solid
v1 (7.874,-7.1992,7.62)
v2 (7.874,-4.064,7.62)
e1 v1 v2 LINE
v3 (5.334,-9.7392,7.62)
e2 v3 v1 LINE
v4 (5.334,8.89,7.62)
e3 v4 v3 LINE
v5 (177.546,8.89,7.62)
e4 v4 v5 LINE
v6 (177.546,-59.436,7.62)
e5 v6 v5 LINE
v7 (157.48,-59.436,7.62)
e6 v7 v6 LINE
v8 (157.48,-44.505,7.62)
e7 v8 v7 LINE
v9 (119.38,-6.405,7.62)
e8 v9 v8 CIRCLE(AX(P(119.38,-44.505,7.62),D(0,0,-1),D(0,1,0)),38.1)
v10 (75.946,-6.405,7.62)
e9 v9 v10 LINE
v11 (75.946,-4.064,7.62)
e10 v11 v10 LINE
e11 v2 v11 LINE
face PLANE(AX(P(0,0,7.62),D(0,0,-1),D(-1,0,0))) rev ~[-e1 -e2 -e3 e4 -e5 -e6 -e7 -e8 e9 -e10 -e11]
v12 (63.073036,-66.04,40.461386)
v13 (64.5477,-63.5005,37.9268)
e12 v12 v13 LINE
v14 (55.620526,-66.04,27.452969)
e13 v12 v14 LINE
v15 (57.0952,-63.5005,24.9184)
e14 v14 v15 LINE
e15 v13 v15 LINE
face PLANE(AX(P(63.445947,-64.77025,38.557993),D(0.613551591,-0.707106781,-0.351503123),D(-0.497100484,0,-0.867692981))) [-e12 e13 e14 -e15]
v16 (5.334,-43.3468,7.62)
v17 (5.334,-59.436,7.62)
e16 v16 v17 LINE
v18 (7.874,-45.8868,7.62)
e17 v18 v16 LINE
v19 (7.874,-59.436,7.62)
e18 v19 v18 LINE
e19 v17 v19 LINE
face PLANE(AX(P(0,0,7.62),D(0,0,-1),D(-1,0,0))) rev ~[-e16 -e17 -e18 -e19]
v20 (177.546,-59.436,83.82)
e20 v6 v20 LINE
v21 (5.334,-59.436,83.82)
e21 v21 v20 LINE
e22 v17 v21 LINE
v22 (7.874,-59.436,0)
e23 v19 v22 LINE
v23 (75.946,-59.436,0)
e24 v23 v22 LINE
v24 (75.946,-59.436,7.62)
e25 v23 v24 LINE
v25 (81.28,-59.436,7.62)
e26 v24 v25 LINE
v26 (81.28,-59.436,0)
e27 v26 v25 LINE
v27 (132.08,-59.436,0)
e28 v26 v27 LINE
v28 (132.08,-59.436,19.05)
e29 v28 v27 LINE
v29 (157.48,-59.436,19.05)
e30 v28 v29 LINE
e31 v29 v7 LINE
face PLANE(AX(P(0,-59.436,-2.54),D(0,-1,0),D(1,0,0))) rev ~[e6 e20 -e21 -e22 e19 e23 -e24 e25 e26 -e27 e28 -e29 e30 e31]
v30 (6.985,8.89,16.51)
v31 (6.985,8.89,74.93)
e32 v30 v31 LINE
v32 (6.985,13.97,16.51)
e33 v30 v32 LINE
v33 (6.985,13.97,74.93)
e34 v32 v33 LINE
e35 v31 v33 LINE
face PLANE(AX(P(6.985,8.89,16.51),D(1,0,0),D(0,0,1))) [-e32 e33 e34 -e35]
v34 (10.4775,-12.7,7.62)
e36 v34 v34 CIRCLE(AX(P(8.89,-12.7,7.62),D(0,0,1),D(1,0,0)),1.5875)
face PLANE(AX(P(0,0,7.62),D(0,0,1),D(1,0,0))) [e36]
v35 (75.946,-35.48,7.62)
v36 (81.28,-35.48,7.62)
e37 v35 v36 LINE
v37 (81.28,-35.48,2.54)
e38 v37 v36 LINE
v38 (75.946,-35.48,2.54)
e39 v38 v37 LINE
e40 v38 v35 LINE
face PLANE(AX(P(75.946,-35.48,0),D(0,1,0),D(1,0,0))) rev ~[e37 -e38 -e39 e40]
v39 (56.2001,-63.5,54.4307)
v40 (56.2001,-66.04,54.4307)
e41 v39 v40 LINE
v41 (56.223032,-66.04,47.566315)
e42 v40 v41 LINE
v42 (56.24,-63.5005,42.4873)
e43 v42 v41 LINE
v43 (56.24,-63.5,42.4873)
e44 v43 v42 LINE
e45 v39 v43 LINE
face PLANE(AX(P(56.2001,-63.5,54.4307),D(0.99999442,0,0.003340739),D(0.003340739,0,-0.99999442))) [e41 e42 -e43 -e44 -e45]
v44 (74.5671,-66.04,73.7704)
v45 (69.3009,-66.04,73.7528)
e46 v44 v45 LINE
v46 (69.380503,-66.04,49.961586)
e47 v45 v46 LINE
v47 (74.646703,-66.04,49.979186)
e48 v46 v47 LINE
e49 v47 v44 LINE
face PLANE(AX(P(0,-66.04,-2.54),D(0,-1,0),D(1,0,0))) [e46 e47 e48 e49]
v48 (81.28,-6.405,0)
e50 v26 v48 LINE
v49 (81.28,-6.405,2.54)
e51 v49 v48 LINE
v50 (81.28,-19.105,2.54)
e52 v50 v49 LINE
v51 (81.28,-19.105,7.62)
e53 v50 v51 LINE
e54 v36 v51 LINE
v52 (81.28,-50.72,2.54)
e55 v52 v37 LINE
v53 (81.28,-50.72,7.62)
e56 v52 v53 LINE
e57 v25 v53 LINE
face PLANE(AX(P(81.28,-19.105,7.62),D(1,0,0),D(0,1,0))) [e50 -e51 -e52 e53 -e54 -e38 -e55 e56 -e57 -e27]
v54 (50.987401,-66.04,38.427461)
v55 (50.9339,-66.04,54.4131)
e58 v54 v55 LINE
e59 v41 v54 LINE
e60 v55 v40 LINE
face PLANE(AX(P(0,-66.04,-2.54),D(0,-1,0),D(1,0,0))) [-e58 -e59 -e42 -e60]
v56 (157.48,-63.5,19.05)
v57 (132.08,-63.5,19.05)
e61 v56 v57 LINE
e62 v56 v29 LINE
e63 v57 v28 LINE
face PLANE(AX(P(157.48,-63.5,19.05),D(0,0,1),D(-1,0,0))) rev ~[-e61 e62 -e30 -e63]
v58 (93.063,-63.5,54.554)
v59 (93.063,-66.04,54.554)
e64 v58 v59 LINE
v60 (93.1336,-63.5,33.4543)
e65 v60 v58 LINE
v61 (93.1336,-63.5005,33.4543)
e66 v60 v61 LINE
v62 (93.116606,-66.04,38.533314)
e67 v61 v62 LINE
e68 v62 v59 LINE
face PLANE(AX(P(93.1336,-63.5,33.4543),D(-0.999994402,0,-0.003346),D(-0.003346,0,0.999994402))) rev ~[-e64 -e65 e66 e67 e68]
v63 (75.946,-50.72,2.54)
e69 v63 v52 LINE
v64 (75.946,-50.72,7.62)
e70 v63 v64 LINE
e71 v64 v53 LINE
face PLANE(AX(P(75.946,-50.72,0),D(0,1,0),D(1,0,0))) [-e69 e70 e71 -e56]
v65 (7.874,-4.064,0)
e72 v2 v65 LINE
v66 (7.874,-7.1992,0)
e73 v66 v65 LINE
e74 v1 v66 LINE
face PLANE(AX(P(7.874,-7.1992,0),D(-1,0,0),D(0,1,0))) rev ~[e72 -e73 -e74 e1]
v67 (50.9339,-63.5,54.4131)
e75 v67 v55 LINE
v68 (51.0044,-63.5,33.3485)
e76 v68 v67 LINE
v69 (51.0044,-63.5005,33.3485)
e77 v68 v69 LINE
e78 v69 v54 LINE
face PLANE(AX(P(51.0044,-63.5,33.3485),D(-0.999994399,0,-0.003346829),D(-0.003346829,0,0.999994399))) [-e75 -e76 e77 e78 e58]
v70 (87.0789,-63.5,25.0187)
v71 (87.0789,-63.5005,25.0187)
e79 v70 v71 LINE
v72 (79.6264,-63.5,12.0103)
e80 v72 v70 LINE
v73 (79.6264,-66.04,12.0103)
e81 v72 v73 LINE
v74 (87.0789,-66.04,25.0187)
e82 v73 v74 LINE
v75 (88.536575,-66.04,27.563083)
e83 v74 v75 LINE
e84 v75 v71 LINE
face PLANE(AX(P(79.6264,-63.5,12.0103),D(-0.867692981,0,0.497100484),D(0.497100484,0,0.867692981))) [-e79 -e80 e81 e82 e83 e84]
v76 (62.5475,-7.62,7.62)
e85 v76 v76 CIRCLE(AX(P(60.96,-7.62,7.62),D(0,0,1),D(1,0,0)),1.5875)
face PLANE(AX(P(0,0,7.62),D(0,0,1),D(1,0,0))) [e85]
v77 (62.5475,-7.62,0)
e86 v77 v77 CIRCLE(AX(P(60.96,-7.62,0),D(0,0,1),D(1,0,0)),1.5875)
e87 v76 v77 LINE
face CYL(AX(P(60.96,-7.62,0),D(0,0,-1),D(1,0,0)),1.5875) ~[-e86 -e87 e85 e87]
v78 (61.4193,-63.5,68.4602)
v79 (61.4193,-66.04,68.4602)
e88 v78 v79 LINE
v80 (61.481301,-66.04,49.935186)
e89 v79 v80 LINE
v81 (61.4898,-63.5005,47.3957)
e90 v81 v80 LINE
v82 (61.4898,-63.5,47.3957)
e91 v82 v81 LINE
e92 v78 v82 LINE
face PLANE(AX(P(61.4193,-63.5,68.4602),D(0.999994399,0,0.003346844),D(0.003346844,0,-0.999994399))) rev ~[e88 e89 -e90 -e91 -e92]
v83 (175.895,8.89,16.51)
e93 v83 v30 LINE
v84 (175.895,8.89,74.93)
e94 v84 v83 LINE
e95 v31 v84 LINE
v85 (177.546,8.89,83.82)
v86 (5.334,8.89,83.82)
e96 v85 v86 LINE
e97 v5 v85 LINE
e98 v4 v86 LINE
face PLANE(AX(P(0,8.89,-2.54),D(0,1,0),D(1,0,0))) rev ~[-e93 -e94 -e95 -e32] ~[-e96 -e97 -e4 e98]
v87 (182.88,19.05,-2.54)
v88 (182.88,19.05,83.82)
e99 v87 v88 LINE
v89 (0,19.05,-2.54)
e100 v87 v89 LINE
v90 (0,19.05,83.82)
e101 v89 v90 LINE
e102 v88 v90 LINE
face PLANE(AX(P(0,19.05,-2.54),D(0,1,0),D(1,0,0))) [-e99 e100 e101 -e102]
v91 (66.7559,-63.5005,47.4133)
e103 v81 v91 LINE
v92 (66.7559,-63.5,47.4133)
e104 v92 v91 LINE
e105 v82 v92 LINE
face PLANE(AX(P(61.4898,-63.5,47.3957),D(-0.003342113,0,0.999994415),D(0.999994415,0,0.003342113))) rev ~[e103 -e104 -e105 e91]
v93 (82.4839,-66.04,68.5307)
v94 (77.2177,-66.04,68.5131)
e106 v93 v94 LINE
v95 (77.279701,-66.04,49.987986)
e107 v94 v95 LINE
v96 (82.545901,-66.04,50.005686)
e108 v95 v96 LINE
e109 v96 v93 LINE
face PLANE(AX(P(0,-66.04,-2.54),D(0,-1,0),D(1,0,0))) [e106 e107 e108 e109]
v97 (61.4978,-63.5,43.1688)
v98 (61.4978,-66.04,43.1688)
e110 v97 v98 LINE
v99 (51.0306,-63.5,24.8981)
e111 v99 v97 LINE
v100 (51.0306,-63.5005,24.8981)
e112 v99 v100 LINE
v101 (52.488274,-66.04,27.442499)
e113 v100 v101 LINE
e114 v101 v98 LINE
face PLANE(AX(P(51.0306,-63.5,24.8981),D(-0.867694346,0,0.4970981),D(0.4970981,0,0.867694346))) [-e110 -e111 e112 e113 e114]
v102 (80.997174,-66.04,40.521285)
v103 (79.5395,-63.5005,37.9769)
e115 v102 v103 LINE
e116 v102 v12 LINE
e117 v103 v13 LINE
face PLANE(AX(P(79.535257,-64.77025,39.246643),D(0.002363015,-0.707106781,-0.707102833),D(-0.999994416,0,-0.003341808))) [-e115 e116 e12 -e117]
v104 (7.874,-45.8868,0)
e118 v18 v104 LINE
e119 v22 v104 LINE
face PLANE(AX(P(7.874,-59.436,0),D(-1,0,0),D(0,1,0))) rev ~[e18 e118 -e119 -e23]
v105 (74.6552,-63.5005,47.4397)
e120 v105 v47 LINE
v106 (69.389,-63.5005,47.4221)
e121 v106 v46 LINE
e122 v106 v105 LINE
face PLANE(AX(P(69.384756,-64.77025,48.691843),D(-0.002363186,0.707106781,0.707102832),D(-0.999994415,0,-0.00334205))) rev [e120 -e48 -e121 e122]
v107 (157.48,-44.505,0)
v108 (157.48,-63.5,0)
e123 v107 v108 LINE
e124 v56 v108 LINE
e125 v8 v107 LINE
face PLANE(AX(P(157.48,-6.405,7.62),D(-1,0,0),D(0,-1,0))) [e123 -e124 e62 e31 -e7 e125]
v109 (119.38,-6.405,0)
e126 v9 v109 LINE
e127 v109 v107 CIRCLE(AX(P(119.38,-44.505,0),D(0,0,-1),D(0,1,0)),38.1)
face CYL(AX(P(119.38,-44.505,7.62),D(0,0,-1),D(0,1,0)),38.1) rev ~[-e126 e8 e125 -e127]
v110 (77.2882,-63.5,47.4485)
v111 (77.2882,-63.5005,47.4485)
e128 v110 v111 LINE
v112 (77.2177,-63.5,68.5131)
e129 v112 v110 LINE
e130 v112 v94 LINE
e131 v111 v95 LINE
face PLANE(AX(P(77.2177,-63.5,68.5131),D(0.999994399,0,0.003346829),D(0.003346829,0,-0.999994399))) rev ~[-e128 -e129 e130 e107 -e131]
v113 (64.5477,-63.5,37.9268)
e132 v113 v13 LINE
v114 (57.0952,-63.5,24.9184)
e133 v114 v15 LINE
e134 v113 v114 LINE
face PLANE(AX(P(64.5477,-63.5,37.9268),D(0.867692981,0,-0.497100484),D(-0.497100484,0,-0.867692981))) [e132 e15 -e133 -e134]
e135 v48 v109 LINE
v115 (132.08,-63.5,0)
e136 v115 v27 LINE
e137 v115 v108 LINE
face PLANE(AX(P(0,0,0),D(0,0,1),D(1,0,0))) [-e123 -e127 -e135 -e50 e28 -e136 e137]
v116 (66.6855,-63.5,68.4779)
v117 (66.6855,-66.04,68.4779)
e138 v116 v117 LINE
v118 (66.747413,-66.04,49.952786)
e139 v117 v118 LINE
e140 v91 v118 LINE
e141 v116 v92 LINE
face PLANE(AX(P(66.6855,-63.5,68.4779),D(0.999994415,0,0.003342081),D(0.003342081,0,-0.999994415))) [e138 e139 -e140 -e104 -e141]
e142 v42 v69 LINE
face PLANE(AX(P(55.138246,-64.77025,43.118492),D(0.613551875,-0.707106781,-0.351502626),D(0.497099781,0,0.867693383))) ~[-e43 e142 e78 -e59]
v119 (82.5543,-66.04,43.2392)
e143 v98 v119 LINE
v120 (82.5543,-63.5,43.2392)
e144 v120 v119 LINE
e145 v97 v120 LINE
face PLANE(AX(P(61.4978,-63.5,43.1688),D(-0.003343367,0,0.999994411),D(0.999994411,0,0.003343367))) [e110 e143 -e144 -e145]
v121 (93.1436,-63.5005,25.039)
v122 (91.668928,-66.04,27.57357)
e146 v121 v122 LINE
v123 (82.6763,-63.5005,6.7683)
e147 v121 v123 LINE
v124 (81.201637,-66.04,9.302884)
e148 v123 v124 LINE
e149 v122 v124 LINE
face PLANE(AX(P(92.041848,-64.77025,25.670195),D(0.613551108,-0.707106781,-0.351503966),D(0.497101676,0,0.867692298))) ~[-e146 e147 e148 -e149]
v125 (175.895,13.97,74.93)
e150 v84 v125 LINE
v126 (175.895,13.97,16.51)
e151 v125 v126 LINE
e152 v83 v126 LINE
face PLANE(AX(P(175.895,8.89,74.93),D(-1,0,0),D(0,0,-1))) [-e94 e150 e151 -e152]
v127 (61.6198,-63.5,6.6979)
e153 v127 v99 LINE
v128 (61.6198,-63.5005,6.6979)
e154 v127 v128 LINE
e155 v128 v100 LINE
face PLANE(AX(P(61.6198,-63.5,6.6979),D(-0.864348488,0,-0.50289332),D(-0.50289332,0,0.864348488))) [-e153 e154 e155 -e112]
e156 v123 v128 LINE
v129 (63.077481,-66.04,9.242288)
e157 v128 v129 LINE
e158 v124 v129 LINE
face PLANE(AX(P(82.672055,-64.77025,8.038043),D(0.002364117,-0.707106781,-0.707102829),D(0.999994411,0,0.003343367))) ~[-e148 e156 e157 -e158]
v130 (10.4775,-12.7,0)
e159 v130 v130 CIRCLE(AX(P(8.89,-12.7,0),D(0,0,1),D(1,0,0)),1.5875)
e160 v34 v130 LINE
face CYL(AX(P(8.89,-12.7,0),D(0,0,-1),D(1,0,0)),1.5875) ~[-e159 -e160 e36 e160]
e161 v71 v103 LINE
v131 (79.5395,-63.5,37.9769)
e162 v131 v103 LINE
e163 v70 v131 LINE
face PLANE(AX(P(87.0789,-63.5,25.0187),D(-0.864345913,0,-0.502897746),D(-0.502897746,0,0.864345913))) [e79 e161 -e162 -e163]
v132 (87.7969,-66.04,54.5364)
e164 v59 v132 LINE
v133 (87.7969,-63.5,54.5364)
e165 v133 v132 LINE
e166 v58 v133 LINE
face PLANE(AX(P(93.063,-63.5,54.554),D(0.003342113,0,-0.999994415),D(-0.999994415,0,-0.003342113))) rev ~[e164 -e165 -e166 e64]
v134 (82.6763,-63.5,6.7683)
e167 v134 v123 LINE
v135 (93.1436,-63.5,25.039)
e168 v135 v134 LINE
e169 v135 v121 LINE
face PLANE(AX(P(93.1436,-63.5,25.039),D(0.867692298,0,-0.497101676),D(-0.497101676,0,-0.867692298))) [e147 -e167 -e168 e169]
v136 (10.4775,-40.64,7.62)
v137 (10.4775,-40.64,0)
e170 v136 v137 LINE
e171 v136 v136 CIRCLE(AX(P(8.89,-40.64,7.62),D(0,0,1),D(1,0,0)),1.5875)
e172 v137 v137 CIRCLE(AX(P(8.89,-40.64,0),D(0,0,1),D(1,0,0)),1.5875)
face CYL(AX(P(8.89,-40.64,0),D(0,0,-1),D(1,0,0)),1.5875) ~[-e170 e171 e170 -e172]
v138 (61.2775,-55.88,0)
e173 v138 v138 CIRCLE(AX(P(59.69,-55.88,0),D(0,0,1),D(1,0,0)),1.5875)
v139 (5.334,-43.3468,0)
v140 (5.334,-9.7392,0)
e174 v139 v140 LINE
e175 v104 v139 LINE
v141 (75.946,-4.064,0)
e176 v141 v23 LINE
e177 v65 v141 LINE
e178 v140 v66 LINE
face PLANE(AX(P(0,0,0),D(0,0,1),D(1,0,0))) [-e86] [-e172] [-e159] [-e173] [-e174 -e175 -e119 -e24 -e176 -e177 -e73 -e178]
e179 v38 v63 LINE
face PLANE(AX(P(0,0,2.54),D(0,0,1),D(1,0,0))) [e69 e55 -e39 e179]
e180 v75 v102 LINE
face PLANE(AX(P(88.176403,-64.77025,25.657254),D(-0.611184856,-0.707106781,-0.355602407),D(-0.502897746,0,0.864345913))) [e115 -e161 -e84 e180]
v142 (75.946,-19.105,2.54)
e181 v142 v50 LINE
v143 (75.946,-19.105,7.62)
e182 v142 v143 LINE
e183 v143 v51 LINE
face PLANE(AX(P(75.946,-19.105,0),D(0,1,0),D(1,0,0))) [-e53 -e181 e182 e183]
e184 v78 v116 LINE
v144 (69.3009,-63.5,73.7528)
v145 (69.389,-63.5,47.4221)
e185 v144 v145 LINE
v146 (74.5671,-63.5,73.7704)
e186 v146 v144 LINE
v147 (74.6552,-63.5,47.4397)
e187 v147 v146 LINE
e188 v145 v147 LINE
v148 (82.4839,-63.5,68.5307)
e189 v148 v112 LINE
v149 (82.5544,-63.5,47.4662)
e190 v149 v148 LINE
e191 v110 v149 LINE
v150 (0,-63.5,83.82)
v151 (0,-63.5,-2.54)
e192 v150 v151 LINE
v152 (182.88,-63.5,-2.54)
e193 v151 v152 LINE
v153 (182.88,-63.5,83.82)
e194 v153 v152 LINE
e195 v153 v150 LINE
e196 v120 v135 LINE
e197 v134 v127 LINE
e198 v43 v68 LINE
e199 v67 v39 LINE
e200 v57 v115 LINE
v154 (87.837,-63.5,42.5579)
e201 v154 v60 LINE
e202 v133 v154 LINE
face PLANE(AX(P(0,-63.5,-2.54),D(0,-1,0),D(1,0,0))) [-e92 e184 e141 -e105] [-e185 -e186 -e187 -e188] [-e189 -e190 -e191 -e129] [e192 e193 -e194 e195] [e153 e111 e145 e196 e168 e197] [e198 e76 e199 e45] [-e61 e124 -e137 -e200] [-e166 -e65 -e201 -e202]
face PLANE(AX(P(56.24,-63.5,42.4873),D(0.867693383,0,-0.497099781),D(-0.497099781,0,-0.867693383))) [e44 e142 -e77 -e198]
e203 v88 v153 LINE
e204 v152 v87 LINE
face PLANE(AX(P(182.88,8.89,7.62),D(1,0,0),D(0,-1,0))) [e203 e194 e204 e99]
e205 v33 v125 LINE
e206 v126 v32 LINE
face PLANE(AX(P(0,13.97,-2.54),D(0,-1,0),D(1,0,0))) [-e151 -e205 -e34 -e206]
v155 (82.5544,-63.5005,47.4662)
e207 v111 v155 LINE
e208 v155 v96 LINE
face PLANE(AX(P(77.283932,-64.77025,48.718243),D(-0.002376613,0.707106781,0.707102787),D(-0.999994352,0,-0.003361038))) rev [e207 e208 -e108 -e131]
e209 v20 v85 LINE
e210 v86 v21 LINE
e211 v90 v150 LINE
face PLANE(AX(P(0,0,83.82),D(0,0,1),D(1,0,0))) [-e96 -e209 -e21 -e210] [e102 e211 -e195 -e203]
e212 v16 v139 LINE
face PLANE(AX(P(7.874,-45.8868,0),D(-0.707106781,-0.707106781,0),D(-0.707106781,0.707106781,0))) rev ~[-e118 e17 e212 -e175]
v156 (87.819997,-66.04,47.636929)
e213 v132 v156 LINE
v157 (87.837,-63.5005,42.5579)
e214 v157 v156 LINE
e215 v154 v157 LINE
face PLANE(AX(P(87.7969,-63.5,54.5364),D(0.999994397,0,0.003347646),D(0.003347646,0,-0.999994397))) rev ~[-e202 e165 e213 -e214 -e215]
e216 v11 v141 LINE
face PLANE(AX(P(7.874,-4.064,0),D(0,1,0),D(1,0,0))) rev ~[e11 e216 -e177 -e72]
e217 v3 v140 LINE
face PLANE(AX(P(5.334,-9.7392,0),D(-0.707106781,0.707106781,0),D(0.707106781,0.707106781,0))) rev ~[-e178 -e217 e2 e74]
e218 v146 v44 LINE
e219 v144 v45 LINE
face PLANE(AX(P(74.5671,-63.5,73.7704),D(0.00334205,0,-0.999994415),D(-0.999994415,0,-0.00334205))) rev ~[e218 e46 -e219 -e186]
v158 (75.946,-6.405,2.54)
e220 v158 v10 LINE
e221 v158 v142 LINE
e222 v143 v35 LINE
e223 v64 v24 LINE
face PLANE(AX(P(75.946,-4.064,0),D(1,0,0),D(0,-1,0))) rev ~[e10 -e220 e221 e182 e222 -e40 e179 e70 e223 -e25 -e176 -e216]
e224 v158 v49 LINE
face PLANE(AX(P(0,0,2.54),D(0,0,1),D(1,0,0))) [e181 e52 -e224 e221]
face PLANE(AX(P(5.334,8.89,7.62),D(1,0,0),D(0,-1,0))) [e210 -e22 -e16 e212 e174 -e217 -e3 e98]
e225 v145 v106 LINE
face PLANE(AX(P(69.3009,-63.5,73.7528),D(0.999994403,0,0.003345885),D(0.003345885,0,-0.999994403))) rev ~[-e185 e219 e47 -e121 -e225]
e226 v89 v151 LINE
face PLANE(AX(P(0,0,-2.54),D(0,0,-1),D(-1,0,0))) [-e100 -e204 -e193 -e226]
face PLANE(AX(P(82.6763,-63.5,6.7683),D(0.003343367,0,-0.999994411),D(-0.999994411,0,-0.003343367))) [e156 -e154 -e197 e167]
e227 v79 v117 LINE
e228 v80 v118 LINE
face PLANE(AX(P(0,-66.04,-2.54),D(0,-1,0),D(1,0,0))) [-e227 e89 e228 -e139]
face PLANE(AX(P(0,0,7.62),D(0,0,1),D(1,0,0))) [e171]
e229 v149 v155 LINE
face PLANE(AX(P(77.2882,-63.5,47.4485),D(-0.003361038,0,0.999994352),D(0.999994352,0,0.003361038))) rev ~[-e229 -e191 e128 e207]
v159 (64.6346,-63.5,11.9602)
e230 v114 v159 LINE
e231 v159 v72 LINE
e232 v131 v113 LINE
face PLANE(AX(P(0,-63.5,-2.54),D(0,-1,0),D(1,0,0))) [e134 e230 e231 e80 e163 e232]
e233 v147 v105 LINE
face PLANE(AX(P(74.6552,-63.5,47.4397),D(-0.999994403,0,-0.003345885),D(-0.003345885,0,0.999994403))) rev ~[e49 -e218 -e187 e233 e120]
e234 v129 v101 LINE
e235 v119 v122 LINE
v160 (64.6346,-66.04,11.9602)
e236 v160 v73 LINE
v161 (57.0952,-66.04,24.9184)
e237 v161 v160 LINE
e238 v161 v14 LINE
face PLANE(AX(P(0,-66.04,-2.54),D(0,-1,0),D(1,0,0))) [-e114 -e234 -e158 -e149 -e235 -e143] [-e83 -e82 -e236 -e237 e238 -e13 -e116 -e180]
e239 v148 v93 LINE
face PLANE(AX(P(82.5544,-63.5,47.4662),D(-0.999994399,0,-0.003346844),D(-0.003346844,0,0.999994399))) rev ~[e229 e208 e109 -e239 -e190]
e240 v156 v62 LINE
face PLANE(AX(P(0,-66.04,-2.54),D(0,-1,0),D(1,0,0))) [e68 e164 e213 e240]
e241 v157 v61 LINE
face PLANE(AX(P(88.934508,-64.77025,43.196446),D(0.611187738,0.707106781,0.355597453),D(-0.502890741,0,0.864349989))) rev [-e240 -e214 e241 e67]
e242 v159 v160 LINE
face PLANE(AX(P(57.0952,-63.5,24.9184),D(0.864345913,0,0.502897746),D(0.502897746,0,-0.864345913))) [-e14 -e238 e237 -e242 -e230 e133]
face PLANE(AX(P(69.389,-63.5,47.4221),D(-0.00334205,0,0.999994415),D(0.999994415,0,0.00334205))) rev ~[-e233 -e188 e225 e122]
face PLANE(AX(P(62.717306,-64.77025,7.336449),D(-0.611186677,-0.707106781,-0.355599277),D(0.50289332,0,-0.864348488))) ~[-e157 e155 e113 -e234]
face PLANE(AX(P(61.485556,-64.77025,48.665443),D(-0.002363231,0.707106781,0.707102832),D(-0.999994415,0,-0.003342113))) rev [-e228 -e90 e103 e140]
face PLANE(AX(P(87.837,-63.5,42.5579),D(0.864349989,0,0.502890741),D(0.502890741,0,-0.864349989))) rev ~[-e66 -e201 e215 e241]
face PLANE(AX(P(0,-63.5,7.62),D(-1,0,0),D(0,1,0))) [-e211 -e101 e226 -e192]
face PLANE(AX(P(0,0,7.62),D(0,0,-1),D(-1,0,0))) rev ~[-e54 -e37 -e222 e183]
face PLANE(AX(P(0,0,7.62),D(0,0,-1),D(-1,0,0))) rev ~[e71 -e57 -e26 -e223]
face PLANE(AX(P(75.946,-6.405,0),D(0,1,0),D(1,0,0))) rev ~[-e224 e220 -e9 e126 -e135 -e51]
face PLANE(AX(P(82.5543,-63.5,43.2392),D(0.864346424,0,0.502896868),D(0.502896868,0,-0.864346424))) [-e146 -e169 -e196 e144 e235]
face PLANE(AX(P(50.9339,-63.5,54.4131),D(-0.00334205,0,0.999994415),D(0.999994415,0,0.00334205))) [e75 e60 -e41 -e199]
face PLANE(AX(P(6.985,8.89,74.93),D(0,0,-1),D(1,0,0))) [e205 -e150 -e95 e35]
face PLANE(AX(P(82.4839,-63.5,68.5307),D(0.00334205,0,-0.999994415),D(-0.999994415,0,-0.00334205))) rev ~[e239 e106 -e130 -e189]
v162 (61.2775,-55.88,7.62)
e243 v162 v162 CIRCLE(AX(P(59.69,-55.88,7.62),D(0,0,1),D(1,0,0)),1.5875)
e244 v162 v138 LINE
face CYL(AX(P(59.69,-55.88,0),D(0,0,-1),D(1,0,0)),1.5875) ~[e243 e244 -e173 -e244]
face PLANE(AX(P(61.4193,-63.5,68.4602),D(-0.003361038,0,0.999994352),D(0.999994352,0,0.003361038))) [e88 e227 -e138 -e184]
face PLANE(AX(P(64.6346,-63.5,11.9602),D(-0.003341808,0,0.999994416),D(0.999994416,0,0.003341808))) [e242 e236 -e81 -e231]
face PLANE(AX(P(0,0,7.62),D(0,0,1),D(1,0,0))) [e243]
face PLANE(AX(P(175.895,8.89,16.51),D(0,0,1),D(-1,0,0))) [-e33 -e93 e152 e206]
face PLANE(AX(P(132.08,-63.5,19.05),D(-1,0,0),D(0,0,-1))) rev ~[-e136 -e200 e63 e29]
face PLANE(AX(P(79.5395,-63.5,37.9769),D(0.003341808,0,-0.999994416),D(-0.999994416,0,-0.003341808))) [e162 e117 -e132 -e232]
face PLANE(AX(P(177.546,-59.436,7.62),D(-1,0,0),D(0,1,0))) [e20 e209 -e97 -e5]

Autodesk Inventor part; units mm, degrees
ref_plane "YZ Plane" through (0, 0, 0) normal (1, 0, 0) x (0, 1, 0)
ref_plane "XZ Plane" through (0, 0, 0) normal (0, 1, 0) x (-1, 0, 0)
ref_plane "XY Plane" through (0, 0, 0) normal (0, 0, 1) x (1, 0, 0)
sketch "Sketch1" plane through (0, 0, 0) normal (0, 0, 1) x (1, 0, 0)
  line L0 (6.35, -116.84) -> (8.89, -119.38)
  line L1 (8.89, -119.38) -> (8.89, -121.92)
  line L2 (6.35, -84.074) -> (6.35, -116.84)
  line L3 (8.89, -81.534) -> (6.35, -84.074)
  line L4 (8.89, -68.58) -> (8.89, -81.534)
  line L5 (74.93, -68.58) -> (8.89, -68.58)
  line L6 (74.93, -121.92) -> (74.93, -68.58)
  line L7 (8.89, -121.92) -> (74.93, -121.92)
  line L8 (5.334, -117.2608) -> (7.874, -119.8008)
  line L9 (7.874, -119.8008) -> (7.874, -122.936)
  line L10 (7.874, -122.936) -> (75.946, -122.936)
  line L11 (75.946, -122.936) -> (75.946, -67.564)
  line L12 (75.946, -67.564) -> (7.874, -67.564)
  line L13 (7.874, -67.564) -> (7.874, -81.1132)
  line L14 (7.874, -81.1132) -> (5.334, -83.6532)
  line L15 (5.334, -83.6532) -> (5.334, -117.2608)
  line L16 (0, -63.5) -> (81.28, -63.5)
  line L17 (81.28, -63.5) -> (81.28, 0)
  line L18 (81.28, 0) -> (0, 0)
  line L19 (0, 0) -> (0, -63.5)
  line L20 (5.334, -111.1172) -> (0, -111.1172) construction
  line L21 (75.946, -101.4463) -> (81.28, -101.4463) construction
  line L22 (34.5139, -122.936) -> (34.5139, -63.5) construction
  line L23 (37.8868, -59.436) -> (37.8868, 0) construction
  line L24 (75.946, -76.28) -> (81.28, -76.28)
  line L25 (75.946, -120.595) -> (81.28, -120.595)
  line L26 (75.946, -107.895) -> (81.28, -107.895)
  line L27 (75.946, -91.52) -> (79.6093, -91.52)
  line L28 (81.28, -89.46) -> (81.28, -78.34)
  line L29 (76.835, -110.245) -> (76.835, -118.245)
  circle A0 centre (8.89, -114.3) radius 1.5875
  circle A1 centre (60.96, -119.38) radius 1.5875
  circle A2 centre (59.69, -71.12) radius 1.5875
  circle A3 centre (8.89, -86.36) radius 1.5875
  circle A4 centre (8.89, -114.3) radius 1.0795
  circle A5 centre (8.89, -86.36) radius 1.0795
  circle A6 centre (59.69, -71.12) radius 1.0795
  circle A7 centre (60.96, -119.38) radius 1.0795
  circle A8 centre (40.64, -95.2527) radius 8.89
  line L30 (6.35, -10.16) -> (8.89, -7.62)
  line L31 (8.89, -7.62) -> (8.89, -5.08)
  line L32 (6.35, -42.926) -> (6.35, -10.16)
  line L33 (8.89, -45.466) -> (6.35, -42.926)
  line L34 (8.89, -58.42) -> (8.89, -45.466)
  line L35 (74.93, -58.42) -> (8.89, -58.42)
  line L36 (74.93, -5.08) -> (74.93, -58.42)
  line L37 (8.89, -5.08) -> (74.93, -5.08)
  line L38 (5.334, -9.7392) -> (7.874, -7.1992)
  line L39 (7.874, -7.1992) -> (7.874, -4.064)
  line L40 (7.874, -4.064) -> (75.946, -4.064)
  line L41 (75.946, -4.064) -> (75.946, -59.436)
  line L42 (75.946, -59.436) -> (7.874, -59.436)
  line L43 (7.874, -59.436) -> (7.874, -45.8868)
  line L44 (7.874, -45.8868) -> (5.334, -43.3468)
  line L45 (5.334, -43.3468) -> (5.334, -9.7392)
  line L46 (5.334, -15.8828) -> (0, -15.8828) construction
  line L47 (75.946, -25.5537) -> (81.28, -25.5537) construction
  line L48 (75.946, -50.72) -> (81.28, -50.72)
  line L49 (75.946, -6.405) -> (81.28, -6.405)
  line L50 (75.946, -19.105) -> (81.28, -19.105)
  line L51 (75.946, -35.48) -> (81.28, -35.48)
  line L52 (81.28, -37.54) -> (81.28, -48.66)
  line L53 (76.835, -16.755) -> (76.835, -8.755)
  circle A9 centre (8.89, -12.7) radius 1.5875
  circle A10 centre (60.96, -7.62) radius 1.5875
  circle A11 centre (59.69, -55.88) radius 1.5875
  circle A12 centre (8.89, -40.64) radius 1.5875
  circle A13 centre (8.89, -12.7) radius 1.0795
  circle A14 centre (8.89, -40.64) radius 1.0795
  circle A15 centre (59.69, -55.88) radius 1.0795
  circle A16 centre (60.96, -7.62) radius 1.0795
  circle A17 centre (40.64, -31.7473) radius 8.89
  point P0 (0, 0)
  point P1 (81.28, -130.1977)
  point P2 (77.7776, -91.52)
  point P3 (81.28, -83.9)
  point P4 (76.835, -114.245)
  point P5 (8.89, -120.65)
  point P6 (41.91, -121.92)
  point P7 (81.28, 3.1977)
  point P8 (34.5139, -4.064)
  point P9 (79.6093, -35.48)
  point P10 (77.7776, -35.48)
  point P11 (81.28, -43.1)
  point P12 (76.835, -12.755)
  point P13 (8.89, -6.35)
  point P14 (41.91, -5.08)
  dimension "d0" = 1.016
  dimension "d1" = 81.28
  dimension "d2" = 63.5
  dimension "d3" = 15.24
  dimension "d4" = 7.62
  dimension "d5" = 12.7
  dimension "d6" = 6.35
  dimension "d7" = 2.159
  dimension "d8" = 2.159
  dimension "d9" = 2.159
  dimension "d10" = 2.159
  dimension "d38" = 17.78
  dimension "d40" = 40.64
  dimension "d93" = 5.334
  dimension "d94" = 63.5
  dimension "d96" = 55.372
  dimension "d97" = 4.064
  dimension "d98" = 4.6592
  dimension "d99" = 2.54
  dimension "d100" = 12.954
  dimension "d101" = 12.5332
  dimension "d102" = 15.0732
  dimension "d103" = 15.494
  dimension "d104" = 6.35
  dimension "d105" = 35.56
  dimension "d106" = 2.54
  dimension "d107" = 50.8
  dimension "d108" = 6.1261
  dimension "d109" = 1.27
  dimension "d110" = 26.6673
extrude "Extrusion1" add sketch "Sketch1" against normal blind 2.54 contours L19 L18 L17 L49 L41 L40 L39 L38 L45 L44 L43 L42 L48 L16 | L48 L41 L51 L17 | L41 L42 L43 L44 L45 L38 L39 L40 | L17 L50 L41 L49 | L41 L50 L17 L51 | L30 L31 L37 L36 L35 L34 L33 L32 | A9 | A10 | A11 | A12 | A13 | A14 | A15 | A16 | A17
extrude "Extrusion2" add sketch "Sketch1" along normal blind 7.62 contours L19 L18 L17 L49 L41 L40 L39 L38 L45 L44 L43 L42 L48 L16 | L41 L50 L17 L51 | A9 | A10 | A11 | A12 | A13 | A14 | A15 | A16
extrude "Extrusion4" add sketch "Sketch1" along normal blind 2.54 contours L19 L18 L17 L49 L41 L40 L39 L38 L45 L44 L43 L42 L48 L16 | L48 L41 L51 L17 | L17 L50 L41 L49 | L41 L50 L17 L51 | A9 | A10 | A11 | A12 | A13 | A14 | A15 | A16
sketch "Sketch9" plane through (0, 0, -2.54) normal (0, 0, -1) x (-1, 0, 0)
  line L0 (-81.28, -6.405) -> (-81.28, 0) projected
  line L1 (0, 0) -> (-81.28, 0)
  line L2 (-81.28, -63.5) -> (0, -63.5) projected
  line L3 (-81.28, 0) -> (-81.28, -63.5)
  line L4 (-81.28, -63.5) -> (-182.88, -63.5)
  line L5 (-182.88, -63.5) -> (-182.88, 19.05)
  line L6 (-182.88, 19.05) -> (0, 19.05)
  line L7 (0, 19.05) -> (0, 0)
  dimension "d115" = 182.88
  dimension "d116" = 19.05
extrude "Extrusion14" add sketch "Sketch9" against normal up to surface (10.16 mm away)
sketch "Sketch10" plane through (0, 0, 7.62) normal (0, 0, 1) x (1, 0, 0)
  line L0 (81.28, -19.105) -> (81.28, -6.405) projected
  line L1 (81.28, -50.72) -> (81.28, -35.48) projected
  line L2 (0, -63.5) -> (182.88, -63.5) projected
  line L3 (81.28, -6.405) -> (157.48, -6.405)
  line L4 (157.48, -6.405) -> (157.48, -63.5)
  line L5 (157.48, -63.5) -> (81.28, -63.5)
  line L6 (81.28, -63.5) -> (81.28, -6.405)
  point P0 (0, 0)
  dimension "d119" = 76.2
extrude "Extrusion15" cut sketch "Sketch10" against normal up to surface (7.62 mm away)
fillet "Fillet1" radius 38.1 1 edges at (157.48, -6.405, 3.81)
sketch "Sketch11" plane through (0, 19.05, -2.54) normal (0, 1, 0) x (1, 0, 0)
  line L0 (0, 0) -> (0, -10.16) projected
  line L1 (0, 0) -> (182.88, 0)
  line L2 (182.88, 0) -> (182.88, -86.36)
  line L3 (182.88, -86.36) -> (0, -86.36)
  line L4 (0, -86.36) -> (0, 0)
  line L5 (182.88, 0) -> (182.88, -10.16) projected
  line L6 (0, -10.16) -> (182.88, -10.16) projected
  point P0 (0, -2.54)
  dimension "d123" = 76.2
extrude "Extrusion16" add sketch "Sketch11" against normal blind 10.16 contours L6 L2 L3 L4
sketch "Sketch12" plane through (0, 8.89, -2.54) normal (0, -1, 0) x (1, 0, 0)
  line L0 (6.985, 77.47) -> (175.895, 77.47)
  line L1 (175.895, 77.47) -> (175.895, 19.05)
  line L2 (175.895, 19.05) -> (6.985, 19.05)
  line L3 (6.985, 19.05) -> (6.985, 77.47)
  line L4 (0, 86.36) -> (0, 10.16) projected
  line L5 (182.88, 86.36) -> (0, 86.36) projected
  point P0 (0, 2.54)
  point P1 (91.44, 77.47)
  point P2 (91.44, 86.36)
  point P3 (6.985, 48.26)
  point P4 (0, 48.26)
  dimension "d126" = 168.91
  dimension "d127" = 58.42
extrude "Extrusion17" cut sketch "Sketch12" against normal blind 5.08
sketch "Sketch13" plane through (0, 0, 7.62) normal (0, 0, 1) x (1, 0, 0)
  line L0 (182.88, 8.89) -> (0, 8.89) projected
  line L1 (5.334, 8.89) -> (5.334, -59.436)
  line L2 (5.334, -59.436) -> (177.546, -59.436)
  line L3 (177.546, -59.436) -> (177.546, 8.89)
  line L4 (182.88, 8.89) -> (182.88, -63.5) projected
  line L5 (0, -63.5) -> (0, 8.89) projected
  line L6 (0, -63.5) -> (81.28, -63.5) projected
  line L7 (157.48, -63.5) -> (81.28, -63.5) projected
  line L8 (157.48, -63.5) -> (182.88, -63.5) projected
  point P0 (0, 0)
  point P1 (7.874, -59.436)
  point P2 (5.334, -43.3468)
  point P3 (177.546, -25.273)
  dimension "d131" = 5.334
extrude "Extrusion18" add sketch "Sketch13" along normal up to surface (76.2 mm away) contours L4 L8 L7 L6 L5 L0 L1 L2 L3
sketch "Sketch14" plane through (0, -63.5, -2.54) normal (0, -1, 0) x (1, 0, 0)
  line L0 (81.28, 10.16) -> (157.48, 10.16) projected
  line L1 (81.28, 5.08) -> (81.28, 10.16) projected
  line L2 (81.28, 10.16) -> (157.48, 10.16)
  line L3 (157.48, 10.16) -> (157.48, 21.59)
  line L4 (157.48, 21.59) -> (81.28, 21.59)
  line L5 (81.28, 21.59) -> (81.28, 10.16)
  line L6 (157.48, 2.54) -> (81.28, 2.54) projected
  point P0 (0, 2.54)
  dimension "d134" = 19.05
extrude "Extrusion19" cut sketch "Sketch14" against normal blind 20.6375
sketch "Sketch15" plane through (0, -63.5, -2.54) normal (0, -1, 0) x (1, 0, 0)
  line L0 (81.28, 21.59) -> (81.28, 10.16) projected
  line L1 (157.48, 2.54) -> (119.38, 2.54) projected
  line L2 (81.28, 21.59) -> (132.08, 21.59)
  line L3 (132.08, 21.59) -> (132.08, 2.54)
  line L4 (132.08, 2.54) -> (81.28, 2.54)
  line L5 (81.28, 2.54) -> (81.28, 21.59)
  line L6 (157.48, 21.59) -> (157.48, 2.54) projected
  point P0 (0, 2.54)
  dimension "d137" = 25.4
extrude "Extrusion20" add sketch "Sketch15" against normal up to surface (4.064 mm away)
sketch "Sketch16" plane through (0, -63.5, -2.54) normal (0, -1, 0) x (1, 0, 0)
  line L0 (82.6763, 9.3083) -> (61.6198, 9.2379)
  line L1 (61.6198, 9.2379) -> (51.0306, 27.4381)
  line L2 (51.0306, 27.4381) -> (61.4978, 45.7088)
  line L3 (61.4978, 45.7088) -> (82.5543, 45.7792)
  line L4 (82.5543, 45.7792) -> (93.1436, 27.579)
  line L5 (93.1436, 27.579) -> (82.6763, 9.3083)
  line L6 (64.5477, 40.4668) -> (57.0952, 27.4584)
  line L7 (57.0952, 27.4584) -> (64.6346, 14.5002)
  line L8 (64.6346, 14.5002) -> (79.6264, 14.5503)
  line L9 (79.6264, 14.5503) -> (87.0789, 27.5587)
  line L10 (87.0789, 27.5587) -> (79.5395, 40.5169)
  line L11 (79.5395, 40.5169) -> (64.5477, 40.4668)
  line L12 (51.0044, 35.8885) -> (50.9339, 56.9531)
  line L13 (50.9339, 56.9531) -> (56.2001, 56.9707)
  line L14 (56.2001, 56.9707) -> (56.24, 45.0273)
  line L15 (56.24, 45.0273) -> (51.0044, 35.8885)
  line L16 (61.4193, 71.0002) -> (66.6855, 71.0179)
  line L17 (66.6855, 71.0179) -> (66.7559, 49.9533)
  line L18 (82.5544, 50.0062) -> (82.4839, 71.0707)
  line L19 (82.4839, 71.0707) -> (77.2177, 71.0531)
  line L20 (77.2177, 71.0531) -> (77.2882, 49.9885)
  line L21 (93.1336, 35.9943) -> (93.063, 57.094)
  line L22 (93.063, 57.094) -> (87.7969, 57.0764)
  line L23 (87.7969, 57.0764) -> (87.837, 45.0979)
  line L24 (87.837, 45.0979) -> (93.1336, 35.9943)
  line L25 (69.3009, 76.2928) -> (69.389, 49.9621)
  line L26 (69.389, 49.9621) -> (74.6552, 49.9797)
  line L27 (74.6552, 49.9797) -> (74.5671, 76.3104)
  line L28 (74.5671, 76.3104) -> (69.3009, 76.2928)
  line L29 (77.2882, 49.9885) -> (82.5544, 50.0062)
  line L30 (66.6855, 71.0179) -> (69.3185, 71.0267) construction
  line L31 (77.2177, 71.0531) -> (74.5847, 71.0443) construction
  line L32 (61.4193, 71.0002) -> (61.4898, 49.9357)
  line L33 (61.4898, 49.9357) -> (66.7559, 49.9533)
  point P0 (0, 2.54)
  point P1 (72.0871, 27.5085)
  point P2 (95.9605, 86.1193)
  dimension "d140" = 21.0566
  dimension "d141" = 5.2522
  dimension "d142" = 4.2234
  dimension "d143" = 4.2234
  dimension "d144" = 5.2662
  dimension "d145" = 5.2662
  dimension "d146" = 5.2662
  dimension "d147" = 5.2662
  dimension "d148" = 4.2269
  dimension "d149" = 21.0647
  dimension "d150" = 21.0647
  dimension "d151" = 26.3309
  dimension "d152" = 5.2662
  dimension "d153" = 5.2662
  dimension "d154" = 5.2662
  dimension "d155" = 2.6331
  dimension "d156" = 5.2578
extrude "Extrusion21" add sketch "Sketch16" along normal blind 2.54
chamfer "Chamfer3" distance 2.54 angle 45 11 edges at (90.4853, -66.04, 38.0061) (79.9213, -66.04, 47.4573) (72.0221, -66.04, 47.4309) (64.1229, -66.04, 47.4045) (53.6222, -66.04, 37.9179) (56.3252, -66.04, 15.798) (72.1481, -66.04, 6.7331) (87.9099, -66.04, 15.9036) (83.3092, -66.04, 31.4978) (72.0436, -66.04, 37.9518) (60.8215, -66.04, 31.4226)
equation "\"d4\" = 0.5 * d3"
equation "\"d6\" = 0.5 * d5"
equation "\"d8\" = d7"
equation "\"d9\" = d7"
equation "\"d10\" = d7"
properties part number "Liv Mas Base Box"
